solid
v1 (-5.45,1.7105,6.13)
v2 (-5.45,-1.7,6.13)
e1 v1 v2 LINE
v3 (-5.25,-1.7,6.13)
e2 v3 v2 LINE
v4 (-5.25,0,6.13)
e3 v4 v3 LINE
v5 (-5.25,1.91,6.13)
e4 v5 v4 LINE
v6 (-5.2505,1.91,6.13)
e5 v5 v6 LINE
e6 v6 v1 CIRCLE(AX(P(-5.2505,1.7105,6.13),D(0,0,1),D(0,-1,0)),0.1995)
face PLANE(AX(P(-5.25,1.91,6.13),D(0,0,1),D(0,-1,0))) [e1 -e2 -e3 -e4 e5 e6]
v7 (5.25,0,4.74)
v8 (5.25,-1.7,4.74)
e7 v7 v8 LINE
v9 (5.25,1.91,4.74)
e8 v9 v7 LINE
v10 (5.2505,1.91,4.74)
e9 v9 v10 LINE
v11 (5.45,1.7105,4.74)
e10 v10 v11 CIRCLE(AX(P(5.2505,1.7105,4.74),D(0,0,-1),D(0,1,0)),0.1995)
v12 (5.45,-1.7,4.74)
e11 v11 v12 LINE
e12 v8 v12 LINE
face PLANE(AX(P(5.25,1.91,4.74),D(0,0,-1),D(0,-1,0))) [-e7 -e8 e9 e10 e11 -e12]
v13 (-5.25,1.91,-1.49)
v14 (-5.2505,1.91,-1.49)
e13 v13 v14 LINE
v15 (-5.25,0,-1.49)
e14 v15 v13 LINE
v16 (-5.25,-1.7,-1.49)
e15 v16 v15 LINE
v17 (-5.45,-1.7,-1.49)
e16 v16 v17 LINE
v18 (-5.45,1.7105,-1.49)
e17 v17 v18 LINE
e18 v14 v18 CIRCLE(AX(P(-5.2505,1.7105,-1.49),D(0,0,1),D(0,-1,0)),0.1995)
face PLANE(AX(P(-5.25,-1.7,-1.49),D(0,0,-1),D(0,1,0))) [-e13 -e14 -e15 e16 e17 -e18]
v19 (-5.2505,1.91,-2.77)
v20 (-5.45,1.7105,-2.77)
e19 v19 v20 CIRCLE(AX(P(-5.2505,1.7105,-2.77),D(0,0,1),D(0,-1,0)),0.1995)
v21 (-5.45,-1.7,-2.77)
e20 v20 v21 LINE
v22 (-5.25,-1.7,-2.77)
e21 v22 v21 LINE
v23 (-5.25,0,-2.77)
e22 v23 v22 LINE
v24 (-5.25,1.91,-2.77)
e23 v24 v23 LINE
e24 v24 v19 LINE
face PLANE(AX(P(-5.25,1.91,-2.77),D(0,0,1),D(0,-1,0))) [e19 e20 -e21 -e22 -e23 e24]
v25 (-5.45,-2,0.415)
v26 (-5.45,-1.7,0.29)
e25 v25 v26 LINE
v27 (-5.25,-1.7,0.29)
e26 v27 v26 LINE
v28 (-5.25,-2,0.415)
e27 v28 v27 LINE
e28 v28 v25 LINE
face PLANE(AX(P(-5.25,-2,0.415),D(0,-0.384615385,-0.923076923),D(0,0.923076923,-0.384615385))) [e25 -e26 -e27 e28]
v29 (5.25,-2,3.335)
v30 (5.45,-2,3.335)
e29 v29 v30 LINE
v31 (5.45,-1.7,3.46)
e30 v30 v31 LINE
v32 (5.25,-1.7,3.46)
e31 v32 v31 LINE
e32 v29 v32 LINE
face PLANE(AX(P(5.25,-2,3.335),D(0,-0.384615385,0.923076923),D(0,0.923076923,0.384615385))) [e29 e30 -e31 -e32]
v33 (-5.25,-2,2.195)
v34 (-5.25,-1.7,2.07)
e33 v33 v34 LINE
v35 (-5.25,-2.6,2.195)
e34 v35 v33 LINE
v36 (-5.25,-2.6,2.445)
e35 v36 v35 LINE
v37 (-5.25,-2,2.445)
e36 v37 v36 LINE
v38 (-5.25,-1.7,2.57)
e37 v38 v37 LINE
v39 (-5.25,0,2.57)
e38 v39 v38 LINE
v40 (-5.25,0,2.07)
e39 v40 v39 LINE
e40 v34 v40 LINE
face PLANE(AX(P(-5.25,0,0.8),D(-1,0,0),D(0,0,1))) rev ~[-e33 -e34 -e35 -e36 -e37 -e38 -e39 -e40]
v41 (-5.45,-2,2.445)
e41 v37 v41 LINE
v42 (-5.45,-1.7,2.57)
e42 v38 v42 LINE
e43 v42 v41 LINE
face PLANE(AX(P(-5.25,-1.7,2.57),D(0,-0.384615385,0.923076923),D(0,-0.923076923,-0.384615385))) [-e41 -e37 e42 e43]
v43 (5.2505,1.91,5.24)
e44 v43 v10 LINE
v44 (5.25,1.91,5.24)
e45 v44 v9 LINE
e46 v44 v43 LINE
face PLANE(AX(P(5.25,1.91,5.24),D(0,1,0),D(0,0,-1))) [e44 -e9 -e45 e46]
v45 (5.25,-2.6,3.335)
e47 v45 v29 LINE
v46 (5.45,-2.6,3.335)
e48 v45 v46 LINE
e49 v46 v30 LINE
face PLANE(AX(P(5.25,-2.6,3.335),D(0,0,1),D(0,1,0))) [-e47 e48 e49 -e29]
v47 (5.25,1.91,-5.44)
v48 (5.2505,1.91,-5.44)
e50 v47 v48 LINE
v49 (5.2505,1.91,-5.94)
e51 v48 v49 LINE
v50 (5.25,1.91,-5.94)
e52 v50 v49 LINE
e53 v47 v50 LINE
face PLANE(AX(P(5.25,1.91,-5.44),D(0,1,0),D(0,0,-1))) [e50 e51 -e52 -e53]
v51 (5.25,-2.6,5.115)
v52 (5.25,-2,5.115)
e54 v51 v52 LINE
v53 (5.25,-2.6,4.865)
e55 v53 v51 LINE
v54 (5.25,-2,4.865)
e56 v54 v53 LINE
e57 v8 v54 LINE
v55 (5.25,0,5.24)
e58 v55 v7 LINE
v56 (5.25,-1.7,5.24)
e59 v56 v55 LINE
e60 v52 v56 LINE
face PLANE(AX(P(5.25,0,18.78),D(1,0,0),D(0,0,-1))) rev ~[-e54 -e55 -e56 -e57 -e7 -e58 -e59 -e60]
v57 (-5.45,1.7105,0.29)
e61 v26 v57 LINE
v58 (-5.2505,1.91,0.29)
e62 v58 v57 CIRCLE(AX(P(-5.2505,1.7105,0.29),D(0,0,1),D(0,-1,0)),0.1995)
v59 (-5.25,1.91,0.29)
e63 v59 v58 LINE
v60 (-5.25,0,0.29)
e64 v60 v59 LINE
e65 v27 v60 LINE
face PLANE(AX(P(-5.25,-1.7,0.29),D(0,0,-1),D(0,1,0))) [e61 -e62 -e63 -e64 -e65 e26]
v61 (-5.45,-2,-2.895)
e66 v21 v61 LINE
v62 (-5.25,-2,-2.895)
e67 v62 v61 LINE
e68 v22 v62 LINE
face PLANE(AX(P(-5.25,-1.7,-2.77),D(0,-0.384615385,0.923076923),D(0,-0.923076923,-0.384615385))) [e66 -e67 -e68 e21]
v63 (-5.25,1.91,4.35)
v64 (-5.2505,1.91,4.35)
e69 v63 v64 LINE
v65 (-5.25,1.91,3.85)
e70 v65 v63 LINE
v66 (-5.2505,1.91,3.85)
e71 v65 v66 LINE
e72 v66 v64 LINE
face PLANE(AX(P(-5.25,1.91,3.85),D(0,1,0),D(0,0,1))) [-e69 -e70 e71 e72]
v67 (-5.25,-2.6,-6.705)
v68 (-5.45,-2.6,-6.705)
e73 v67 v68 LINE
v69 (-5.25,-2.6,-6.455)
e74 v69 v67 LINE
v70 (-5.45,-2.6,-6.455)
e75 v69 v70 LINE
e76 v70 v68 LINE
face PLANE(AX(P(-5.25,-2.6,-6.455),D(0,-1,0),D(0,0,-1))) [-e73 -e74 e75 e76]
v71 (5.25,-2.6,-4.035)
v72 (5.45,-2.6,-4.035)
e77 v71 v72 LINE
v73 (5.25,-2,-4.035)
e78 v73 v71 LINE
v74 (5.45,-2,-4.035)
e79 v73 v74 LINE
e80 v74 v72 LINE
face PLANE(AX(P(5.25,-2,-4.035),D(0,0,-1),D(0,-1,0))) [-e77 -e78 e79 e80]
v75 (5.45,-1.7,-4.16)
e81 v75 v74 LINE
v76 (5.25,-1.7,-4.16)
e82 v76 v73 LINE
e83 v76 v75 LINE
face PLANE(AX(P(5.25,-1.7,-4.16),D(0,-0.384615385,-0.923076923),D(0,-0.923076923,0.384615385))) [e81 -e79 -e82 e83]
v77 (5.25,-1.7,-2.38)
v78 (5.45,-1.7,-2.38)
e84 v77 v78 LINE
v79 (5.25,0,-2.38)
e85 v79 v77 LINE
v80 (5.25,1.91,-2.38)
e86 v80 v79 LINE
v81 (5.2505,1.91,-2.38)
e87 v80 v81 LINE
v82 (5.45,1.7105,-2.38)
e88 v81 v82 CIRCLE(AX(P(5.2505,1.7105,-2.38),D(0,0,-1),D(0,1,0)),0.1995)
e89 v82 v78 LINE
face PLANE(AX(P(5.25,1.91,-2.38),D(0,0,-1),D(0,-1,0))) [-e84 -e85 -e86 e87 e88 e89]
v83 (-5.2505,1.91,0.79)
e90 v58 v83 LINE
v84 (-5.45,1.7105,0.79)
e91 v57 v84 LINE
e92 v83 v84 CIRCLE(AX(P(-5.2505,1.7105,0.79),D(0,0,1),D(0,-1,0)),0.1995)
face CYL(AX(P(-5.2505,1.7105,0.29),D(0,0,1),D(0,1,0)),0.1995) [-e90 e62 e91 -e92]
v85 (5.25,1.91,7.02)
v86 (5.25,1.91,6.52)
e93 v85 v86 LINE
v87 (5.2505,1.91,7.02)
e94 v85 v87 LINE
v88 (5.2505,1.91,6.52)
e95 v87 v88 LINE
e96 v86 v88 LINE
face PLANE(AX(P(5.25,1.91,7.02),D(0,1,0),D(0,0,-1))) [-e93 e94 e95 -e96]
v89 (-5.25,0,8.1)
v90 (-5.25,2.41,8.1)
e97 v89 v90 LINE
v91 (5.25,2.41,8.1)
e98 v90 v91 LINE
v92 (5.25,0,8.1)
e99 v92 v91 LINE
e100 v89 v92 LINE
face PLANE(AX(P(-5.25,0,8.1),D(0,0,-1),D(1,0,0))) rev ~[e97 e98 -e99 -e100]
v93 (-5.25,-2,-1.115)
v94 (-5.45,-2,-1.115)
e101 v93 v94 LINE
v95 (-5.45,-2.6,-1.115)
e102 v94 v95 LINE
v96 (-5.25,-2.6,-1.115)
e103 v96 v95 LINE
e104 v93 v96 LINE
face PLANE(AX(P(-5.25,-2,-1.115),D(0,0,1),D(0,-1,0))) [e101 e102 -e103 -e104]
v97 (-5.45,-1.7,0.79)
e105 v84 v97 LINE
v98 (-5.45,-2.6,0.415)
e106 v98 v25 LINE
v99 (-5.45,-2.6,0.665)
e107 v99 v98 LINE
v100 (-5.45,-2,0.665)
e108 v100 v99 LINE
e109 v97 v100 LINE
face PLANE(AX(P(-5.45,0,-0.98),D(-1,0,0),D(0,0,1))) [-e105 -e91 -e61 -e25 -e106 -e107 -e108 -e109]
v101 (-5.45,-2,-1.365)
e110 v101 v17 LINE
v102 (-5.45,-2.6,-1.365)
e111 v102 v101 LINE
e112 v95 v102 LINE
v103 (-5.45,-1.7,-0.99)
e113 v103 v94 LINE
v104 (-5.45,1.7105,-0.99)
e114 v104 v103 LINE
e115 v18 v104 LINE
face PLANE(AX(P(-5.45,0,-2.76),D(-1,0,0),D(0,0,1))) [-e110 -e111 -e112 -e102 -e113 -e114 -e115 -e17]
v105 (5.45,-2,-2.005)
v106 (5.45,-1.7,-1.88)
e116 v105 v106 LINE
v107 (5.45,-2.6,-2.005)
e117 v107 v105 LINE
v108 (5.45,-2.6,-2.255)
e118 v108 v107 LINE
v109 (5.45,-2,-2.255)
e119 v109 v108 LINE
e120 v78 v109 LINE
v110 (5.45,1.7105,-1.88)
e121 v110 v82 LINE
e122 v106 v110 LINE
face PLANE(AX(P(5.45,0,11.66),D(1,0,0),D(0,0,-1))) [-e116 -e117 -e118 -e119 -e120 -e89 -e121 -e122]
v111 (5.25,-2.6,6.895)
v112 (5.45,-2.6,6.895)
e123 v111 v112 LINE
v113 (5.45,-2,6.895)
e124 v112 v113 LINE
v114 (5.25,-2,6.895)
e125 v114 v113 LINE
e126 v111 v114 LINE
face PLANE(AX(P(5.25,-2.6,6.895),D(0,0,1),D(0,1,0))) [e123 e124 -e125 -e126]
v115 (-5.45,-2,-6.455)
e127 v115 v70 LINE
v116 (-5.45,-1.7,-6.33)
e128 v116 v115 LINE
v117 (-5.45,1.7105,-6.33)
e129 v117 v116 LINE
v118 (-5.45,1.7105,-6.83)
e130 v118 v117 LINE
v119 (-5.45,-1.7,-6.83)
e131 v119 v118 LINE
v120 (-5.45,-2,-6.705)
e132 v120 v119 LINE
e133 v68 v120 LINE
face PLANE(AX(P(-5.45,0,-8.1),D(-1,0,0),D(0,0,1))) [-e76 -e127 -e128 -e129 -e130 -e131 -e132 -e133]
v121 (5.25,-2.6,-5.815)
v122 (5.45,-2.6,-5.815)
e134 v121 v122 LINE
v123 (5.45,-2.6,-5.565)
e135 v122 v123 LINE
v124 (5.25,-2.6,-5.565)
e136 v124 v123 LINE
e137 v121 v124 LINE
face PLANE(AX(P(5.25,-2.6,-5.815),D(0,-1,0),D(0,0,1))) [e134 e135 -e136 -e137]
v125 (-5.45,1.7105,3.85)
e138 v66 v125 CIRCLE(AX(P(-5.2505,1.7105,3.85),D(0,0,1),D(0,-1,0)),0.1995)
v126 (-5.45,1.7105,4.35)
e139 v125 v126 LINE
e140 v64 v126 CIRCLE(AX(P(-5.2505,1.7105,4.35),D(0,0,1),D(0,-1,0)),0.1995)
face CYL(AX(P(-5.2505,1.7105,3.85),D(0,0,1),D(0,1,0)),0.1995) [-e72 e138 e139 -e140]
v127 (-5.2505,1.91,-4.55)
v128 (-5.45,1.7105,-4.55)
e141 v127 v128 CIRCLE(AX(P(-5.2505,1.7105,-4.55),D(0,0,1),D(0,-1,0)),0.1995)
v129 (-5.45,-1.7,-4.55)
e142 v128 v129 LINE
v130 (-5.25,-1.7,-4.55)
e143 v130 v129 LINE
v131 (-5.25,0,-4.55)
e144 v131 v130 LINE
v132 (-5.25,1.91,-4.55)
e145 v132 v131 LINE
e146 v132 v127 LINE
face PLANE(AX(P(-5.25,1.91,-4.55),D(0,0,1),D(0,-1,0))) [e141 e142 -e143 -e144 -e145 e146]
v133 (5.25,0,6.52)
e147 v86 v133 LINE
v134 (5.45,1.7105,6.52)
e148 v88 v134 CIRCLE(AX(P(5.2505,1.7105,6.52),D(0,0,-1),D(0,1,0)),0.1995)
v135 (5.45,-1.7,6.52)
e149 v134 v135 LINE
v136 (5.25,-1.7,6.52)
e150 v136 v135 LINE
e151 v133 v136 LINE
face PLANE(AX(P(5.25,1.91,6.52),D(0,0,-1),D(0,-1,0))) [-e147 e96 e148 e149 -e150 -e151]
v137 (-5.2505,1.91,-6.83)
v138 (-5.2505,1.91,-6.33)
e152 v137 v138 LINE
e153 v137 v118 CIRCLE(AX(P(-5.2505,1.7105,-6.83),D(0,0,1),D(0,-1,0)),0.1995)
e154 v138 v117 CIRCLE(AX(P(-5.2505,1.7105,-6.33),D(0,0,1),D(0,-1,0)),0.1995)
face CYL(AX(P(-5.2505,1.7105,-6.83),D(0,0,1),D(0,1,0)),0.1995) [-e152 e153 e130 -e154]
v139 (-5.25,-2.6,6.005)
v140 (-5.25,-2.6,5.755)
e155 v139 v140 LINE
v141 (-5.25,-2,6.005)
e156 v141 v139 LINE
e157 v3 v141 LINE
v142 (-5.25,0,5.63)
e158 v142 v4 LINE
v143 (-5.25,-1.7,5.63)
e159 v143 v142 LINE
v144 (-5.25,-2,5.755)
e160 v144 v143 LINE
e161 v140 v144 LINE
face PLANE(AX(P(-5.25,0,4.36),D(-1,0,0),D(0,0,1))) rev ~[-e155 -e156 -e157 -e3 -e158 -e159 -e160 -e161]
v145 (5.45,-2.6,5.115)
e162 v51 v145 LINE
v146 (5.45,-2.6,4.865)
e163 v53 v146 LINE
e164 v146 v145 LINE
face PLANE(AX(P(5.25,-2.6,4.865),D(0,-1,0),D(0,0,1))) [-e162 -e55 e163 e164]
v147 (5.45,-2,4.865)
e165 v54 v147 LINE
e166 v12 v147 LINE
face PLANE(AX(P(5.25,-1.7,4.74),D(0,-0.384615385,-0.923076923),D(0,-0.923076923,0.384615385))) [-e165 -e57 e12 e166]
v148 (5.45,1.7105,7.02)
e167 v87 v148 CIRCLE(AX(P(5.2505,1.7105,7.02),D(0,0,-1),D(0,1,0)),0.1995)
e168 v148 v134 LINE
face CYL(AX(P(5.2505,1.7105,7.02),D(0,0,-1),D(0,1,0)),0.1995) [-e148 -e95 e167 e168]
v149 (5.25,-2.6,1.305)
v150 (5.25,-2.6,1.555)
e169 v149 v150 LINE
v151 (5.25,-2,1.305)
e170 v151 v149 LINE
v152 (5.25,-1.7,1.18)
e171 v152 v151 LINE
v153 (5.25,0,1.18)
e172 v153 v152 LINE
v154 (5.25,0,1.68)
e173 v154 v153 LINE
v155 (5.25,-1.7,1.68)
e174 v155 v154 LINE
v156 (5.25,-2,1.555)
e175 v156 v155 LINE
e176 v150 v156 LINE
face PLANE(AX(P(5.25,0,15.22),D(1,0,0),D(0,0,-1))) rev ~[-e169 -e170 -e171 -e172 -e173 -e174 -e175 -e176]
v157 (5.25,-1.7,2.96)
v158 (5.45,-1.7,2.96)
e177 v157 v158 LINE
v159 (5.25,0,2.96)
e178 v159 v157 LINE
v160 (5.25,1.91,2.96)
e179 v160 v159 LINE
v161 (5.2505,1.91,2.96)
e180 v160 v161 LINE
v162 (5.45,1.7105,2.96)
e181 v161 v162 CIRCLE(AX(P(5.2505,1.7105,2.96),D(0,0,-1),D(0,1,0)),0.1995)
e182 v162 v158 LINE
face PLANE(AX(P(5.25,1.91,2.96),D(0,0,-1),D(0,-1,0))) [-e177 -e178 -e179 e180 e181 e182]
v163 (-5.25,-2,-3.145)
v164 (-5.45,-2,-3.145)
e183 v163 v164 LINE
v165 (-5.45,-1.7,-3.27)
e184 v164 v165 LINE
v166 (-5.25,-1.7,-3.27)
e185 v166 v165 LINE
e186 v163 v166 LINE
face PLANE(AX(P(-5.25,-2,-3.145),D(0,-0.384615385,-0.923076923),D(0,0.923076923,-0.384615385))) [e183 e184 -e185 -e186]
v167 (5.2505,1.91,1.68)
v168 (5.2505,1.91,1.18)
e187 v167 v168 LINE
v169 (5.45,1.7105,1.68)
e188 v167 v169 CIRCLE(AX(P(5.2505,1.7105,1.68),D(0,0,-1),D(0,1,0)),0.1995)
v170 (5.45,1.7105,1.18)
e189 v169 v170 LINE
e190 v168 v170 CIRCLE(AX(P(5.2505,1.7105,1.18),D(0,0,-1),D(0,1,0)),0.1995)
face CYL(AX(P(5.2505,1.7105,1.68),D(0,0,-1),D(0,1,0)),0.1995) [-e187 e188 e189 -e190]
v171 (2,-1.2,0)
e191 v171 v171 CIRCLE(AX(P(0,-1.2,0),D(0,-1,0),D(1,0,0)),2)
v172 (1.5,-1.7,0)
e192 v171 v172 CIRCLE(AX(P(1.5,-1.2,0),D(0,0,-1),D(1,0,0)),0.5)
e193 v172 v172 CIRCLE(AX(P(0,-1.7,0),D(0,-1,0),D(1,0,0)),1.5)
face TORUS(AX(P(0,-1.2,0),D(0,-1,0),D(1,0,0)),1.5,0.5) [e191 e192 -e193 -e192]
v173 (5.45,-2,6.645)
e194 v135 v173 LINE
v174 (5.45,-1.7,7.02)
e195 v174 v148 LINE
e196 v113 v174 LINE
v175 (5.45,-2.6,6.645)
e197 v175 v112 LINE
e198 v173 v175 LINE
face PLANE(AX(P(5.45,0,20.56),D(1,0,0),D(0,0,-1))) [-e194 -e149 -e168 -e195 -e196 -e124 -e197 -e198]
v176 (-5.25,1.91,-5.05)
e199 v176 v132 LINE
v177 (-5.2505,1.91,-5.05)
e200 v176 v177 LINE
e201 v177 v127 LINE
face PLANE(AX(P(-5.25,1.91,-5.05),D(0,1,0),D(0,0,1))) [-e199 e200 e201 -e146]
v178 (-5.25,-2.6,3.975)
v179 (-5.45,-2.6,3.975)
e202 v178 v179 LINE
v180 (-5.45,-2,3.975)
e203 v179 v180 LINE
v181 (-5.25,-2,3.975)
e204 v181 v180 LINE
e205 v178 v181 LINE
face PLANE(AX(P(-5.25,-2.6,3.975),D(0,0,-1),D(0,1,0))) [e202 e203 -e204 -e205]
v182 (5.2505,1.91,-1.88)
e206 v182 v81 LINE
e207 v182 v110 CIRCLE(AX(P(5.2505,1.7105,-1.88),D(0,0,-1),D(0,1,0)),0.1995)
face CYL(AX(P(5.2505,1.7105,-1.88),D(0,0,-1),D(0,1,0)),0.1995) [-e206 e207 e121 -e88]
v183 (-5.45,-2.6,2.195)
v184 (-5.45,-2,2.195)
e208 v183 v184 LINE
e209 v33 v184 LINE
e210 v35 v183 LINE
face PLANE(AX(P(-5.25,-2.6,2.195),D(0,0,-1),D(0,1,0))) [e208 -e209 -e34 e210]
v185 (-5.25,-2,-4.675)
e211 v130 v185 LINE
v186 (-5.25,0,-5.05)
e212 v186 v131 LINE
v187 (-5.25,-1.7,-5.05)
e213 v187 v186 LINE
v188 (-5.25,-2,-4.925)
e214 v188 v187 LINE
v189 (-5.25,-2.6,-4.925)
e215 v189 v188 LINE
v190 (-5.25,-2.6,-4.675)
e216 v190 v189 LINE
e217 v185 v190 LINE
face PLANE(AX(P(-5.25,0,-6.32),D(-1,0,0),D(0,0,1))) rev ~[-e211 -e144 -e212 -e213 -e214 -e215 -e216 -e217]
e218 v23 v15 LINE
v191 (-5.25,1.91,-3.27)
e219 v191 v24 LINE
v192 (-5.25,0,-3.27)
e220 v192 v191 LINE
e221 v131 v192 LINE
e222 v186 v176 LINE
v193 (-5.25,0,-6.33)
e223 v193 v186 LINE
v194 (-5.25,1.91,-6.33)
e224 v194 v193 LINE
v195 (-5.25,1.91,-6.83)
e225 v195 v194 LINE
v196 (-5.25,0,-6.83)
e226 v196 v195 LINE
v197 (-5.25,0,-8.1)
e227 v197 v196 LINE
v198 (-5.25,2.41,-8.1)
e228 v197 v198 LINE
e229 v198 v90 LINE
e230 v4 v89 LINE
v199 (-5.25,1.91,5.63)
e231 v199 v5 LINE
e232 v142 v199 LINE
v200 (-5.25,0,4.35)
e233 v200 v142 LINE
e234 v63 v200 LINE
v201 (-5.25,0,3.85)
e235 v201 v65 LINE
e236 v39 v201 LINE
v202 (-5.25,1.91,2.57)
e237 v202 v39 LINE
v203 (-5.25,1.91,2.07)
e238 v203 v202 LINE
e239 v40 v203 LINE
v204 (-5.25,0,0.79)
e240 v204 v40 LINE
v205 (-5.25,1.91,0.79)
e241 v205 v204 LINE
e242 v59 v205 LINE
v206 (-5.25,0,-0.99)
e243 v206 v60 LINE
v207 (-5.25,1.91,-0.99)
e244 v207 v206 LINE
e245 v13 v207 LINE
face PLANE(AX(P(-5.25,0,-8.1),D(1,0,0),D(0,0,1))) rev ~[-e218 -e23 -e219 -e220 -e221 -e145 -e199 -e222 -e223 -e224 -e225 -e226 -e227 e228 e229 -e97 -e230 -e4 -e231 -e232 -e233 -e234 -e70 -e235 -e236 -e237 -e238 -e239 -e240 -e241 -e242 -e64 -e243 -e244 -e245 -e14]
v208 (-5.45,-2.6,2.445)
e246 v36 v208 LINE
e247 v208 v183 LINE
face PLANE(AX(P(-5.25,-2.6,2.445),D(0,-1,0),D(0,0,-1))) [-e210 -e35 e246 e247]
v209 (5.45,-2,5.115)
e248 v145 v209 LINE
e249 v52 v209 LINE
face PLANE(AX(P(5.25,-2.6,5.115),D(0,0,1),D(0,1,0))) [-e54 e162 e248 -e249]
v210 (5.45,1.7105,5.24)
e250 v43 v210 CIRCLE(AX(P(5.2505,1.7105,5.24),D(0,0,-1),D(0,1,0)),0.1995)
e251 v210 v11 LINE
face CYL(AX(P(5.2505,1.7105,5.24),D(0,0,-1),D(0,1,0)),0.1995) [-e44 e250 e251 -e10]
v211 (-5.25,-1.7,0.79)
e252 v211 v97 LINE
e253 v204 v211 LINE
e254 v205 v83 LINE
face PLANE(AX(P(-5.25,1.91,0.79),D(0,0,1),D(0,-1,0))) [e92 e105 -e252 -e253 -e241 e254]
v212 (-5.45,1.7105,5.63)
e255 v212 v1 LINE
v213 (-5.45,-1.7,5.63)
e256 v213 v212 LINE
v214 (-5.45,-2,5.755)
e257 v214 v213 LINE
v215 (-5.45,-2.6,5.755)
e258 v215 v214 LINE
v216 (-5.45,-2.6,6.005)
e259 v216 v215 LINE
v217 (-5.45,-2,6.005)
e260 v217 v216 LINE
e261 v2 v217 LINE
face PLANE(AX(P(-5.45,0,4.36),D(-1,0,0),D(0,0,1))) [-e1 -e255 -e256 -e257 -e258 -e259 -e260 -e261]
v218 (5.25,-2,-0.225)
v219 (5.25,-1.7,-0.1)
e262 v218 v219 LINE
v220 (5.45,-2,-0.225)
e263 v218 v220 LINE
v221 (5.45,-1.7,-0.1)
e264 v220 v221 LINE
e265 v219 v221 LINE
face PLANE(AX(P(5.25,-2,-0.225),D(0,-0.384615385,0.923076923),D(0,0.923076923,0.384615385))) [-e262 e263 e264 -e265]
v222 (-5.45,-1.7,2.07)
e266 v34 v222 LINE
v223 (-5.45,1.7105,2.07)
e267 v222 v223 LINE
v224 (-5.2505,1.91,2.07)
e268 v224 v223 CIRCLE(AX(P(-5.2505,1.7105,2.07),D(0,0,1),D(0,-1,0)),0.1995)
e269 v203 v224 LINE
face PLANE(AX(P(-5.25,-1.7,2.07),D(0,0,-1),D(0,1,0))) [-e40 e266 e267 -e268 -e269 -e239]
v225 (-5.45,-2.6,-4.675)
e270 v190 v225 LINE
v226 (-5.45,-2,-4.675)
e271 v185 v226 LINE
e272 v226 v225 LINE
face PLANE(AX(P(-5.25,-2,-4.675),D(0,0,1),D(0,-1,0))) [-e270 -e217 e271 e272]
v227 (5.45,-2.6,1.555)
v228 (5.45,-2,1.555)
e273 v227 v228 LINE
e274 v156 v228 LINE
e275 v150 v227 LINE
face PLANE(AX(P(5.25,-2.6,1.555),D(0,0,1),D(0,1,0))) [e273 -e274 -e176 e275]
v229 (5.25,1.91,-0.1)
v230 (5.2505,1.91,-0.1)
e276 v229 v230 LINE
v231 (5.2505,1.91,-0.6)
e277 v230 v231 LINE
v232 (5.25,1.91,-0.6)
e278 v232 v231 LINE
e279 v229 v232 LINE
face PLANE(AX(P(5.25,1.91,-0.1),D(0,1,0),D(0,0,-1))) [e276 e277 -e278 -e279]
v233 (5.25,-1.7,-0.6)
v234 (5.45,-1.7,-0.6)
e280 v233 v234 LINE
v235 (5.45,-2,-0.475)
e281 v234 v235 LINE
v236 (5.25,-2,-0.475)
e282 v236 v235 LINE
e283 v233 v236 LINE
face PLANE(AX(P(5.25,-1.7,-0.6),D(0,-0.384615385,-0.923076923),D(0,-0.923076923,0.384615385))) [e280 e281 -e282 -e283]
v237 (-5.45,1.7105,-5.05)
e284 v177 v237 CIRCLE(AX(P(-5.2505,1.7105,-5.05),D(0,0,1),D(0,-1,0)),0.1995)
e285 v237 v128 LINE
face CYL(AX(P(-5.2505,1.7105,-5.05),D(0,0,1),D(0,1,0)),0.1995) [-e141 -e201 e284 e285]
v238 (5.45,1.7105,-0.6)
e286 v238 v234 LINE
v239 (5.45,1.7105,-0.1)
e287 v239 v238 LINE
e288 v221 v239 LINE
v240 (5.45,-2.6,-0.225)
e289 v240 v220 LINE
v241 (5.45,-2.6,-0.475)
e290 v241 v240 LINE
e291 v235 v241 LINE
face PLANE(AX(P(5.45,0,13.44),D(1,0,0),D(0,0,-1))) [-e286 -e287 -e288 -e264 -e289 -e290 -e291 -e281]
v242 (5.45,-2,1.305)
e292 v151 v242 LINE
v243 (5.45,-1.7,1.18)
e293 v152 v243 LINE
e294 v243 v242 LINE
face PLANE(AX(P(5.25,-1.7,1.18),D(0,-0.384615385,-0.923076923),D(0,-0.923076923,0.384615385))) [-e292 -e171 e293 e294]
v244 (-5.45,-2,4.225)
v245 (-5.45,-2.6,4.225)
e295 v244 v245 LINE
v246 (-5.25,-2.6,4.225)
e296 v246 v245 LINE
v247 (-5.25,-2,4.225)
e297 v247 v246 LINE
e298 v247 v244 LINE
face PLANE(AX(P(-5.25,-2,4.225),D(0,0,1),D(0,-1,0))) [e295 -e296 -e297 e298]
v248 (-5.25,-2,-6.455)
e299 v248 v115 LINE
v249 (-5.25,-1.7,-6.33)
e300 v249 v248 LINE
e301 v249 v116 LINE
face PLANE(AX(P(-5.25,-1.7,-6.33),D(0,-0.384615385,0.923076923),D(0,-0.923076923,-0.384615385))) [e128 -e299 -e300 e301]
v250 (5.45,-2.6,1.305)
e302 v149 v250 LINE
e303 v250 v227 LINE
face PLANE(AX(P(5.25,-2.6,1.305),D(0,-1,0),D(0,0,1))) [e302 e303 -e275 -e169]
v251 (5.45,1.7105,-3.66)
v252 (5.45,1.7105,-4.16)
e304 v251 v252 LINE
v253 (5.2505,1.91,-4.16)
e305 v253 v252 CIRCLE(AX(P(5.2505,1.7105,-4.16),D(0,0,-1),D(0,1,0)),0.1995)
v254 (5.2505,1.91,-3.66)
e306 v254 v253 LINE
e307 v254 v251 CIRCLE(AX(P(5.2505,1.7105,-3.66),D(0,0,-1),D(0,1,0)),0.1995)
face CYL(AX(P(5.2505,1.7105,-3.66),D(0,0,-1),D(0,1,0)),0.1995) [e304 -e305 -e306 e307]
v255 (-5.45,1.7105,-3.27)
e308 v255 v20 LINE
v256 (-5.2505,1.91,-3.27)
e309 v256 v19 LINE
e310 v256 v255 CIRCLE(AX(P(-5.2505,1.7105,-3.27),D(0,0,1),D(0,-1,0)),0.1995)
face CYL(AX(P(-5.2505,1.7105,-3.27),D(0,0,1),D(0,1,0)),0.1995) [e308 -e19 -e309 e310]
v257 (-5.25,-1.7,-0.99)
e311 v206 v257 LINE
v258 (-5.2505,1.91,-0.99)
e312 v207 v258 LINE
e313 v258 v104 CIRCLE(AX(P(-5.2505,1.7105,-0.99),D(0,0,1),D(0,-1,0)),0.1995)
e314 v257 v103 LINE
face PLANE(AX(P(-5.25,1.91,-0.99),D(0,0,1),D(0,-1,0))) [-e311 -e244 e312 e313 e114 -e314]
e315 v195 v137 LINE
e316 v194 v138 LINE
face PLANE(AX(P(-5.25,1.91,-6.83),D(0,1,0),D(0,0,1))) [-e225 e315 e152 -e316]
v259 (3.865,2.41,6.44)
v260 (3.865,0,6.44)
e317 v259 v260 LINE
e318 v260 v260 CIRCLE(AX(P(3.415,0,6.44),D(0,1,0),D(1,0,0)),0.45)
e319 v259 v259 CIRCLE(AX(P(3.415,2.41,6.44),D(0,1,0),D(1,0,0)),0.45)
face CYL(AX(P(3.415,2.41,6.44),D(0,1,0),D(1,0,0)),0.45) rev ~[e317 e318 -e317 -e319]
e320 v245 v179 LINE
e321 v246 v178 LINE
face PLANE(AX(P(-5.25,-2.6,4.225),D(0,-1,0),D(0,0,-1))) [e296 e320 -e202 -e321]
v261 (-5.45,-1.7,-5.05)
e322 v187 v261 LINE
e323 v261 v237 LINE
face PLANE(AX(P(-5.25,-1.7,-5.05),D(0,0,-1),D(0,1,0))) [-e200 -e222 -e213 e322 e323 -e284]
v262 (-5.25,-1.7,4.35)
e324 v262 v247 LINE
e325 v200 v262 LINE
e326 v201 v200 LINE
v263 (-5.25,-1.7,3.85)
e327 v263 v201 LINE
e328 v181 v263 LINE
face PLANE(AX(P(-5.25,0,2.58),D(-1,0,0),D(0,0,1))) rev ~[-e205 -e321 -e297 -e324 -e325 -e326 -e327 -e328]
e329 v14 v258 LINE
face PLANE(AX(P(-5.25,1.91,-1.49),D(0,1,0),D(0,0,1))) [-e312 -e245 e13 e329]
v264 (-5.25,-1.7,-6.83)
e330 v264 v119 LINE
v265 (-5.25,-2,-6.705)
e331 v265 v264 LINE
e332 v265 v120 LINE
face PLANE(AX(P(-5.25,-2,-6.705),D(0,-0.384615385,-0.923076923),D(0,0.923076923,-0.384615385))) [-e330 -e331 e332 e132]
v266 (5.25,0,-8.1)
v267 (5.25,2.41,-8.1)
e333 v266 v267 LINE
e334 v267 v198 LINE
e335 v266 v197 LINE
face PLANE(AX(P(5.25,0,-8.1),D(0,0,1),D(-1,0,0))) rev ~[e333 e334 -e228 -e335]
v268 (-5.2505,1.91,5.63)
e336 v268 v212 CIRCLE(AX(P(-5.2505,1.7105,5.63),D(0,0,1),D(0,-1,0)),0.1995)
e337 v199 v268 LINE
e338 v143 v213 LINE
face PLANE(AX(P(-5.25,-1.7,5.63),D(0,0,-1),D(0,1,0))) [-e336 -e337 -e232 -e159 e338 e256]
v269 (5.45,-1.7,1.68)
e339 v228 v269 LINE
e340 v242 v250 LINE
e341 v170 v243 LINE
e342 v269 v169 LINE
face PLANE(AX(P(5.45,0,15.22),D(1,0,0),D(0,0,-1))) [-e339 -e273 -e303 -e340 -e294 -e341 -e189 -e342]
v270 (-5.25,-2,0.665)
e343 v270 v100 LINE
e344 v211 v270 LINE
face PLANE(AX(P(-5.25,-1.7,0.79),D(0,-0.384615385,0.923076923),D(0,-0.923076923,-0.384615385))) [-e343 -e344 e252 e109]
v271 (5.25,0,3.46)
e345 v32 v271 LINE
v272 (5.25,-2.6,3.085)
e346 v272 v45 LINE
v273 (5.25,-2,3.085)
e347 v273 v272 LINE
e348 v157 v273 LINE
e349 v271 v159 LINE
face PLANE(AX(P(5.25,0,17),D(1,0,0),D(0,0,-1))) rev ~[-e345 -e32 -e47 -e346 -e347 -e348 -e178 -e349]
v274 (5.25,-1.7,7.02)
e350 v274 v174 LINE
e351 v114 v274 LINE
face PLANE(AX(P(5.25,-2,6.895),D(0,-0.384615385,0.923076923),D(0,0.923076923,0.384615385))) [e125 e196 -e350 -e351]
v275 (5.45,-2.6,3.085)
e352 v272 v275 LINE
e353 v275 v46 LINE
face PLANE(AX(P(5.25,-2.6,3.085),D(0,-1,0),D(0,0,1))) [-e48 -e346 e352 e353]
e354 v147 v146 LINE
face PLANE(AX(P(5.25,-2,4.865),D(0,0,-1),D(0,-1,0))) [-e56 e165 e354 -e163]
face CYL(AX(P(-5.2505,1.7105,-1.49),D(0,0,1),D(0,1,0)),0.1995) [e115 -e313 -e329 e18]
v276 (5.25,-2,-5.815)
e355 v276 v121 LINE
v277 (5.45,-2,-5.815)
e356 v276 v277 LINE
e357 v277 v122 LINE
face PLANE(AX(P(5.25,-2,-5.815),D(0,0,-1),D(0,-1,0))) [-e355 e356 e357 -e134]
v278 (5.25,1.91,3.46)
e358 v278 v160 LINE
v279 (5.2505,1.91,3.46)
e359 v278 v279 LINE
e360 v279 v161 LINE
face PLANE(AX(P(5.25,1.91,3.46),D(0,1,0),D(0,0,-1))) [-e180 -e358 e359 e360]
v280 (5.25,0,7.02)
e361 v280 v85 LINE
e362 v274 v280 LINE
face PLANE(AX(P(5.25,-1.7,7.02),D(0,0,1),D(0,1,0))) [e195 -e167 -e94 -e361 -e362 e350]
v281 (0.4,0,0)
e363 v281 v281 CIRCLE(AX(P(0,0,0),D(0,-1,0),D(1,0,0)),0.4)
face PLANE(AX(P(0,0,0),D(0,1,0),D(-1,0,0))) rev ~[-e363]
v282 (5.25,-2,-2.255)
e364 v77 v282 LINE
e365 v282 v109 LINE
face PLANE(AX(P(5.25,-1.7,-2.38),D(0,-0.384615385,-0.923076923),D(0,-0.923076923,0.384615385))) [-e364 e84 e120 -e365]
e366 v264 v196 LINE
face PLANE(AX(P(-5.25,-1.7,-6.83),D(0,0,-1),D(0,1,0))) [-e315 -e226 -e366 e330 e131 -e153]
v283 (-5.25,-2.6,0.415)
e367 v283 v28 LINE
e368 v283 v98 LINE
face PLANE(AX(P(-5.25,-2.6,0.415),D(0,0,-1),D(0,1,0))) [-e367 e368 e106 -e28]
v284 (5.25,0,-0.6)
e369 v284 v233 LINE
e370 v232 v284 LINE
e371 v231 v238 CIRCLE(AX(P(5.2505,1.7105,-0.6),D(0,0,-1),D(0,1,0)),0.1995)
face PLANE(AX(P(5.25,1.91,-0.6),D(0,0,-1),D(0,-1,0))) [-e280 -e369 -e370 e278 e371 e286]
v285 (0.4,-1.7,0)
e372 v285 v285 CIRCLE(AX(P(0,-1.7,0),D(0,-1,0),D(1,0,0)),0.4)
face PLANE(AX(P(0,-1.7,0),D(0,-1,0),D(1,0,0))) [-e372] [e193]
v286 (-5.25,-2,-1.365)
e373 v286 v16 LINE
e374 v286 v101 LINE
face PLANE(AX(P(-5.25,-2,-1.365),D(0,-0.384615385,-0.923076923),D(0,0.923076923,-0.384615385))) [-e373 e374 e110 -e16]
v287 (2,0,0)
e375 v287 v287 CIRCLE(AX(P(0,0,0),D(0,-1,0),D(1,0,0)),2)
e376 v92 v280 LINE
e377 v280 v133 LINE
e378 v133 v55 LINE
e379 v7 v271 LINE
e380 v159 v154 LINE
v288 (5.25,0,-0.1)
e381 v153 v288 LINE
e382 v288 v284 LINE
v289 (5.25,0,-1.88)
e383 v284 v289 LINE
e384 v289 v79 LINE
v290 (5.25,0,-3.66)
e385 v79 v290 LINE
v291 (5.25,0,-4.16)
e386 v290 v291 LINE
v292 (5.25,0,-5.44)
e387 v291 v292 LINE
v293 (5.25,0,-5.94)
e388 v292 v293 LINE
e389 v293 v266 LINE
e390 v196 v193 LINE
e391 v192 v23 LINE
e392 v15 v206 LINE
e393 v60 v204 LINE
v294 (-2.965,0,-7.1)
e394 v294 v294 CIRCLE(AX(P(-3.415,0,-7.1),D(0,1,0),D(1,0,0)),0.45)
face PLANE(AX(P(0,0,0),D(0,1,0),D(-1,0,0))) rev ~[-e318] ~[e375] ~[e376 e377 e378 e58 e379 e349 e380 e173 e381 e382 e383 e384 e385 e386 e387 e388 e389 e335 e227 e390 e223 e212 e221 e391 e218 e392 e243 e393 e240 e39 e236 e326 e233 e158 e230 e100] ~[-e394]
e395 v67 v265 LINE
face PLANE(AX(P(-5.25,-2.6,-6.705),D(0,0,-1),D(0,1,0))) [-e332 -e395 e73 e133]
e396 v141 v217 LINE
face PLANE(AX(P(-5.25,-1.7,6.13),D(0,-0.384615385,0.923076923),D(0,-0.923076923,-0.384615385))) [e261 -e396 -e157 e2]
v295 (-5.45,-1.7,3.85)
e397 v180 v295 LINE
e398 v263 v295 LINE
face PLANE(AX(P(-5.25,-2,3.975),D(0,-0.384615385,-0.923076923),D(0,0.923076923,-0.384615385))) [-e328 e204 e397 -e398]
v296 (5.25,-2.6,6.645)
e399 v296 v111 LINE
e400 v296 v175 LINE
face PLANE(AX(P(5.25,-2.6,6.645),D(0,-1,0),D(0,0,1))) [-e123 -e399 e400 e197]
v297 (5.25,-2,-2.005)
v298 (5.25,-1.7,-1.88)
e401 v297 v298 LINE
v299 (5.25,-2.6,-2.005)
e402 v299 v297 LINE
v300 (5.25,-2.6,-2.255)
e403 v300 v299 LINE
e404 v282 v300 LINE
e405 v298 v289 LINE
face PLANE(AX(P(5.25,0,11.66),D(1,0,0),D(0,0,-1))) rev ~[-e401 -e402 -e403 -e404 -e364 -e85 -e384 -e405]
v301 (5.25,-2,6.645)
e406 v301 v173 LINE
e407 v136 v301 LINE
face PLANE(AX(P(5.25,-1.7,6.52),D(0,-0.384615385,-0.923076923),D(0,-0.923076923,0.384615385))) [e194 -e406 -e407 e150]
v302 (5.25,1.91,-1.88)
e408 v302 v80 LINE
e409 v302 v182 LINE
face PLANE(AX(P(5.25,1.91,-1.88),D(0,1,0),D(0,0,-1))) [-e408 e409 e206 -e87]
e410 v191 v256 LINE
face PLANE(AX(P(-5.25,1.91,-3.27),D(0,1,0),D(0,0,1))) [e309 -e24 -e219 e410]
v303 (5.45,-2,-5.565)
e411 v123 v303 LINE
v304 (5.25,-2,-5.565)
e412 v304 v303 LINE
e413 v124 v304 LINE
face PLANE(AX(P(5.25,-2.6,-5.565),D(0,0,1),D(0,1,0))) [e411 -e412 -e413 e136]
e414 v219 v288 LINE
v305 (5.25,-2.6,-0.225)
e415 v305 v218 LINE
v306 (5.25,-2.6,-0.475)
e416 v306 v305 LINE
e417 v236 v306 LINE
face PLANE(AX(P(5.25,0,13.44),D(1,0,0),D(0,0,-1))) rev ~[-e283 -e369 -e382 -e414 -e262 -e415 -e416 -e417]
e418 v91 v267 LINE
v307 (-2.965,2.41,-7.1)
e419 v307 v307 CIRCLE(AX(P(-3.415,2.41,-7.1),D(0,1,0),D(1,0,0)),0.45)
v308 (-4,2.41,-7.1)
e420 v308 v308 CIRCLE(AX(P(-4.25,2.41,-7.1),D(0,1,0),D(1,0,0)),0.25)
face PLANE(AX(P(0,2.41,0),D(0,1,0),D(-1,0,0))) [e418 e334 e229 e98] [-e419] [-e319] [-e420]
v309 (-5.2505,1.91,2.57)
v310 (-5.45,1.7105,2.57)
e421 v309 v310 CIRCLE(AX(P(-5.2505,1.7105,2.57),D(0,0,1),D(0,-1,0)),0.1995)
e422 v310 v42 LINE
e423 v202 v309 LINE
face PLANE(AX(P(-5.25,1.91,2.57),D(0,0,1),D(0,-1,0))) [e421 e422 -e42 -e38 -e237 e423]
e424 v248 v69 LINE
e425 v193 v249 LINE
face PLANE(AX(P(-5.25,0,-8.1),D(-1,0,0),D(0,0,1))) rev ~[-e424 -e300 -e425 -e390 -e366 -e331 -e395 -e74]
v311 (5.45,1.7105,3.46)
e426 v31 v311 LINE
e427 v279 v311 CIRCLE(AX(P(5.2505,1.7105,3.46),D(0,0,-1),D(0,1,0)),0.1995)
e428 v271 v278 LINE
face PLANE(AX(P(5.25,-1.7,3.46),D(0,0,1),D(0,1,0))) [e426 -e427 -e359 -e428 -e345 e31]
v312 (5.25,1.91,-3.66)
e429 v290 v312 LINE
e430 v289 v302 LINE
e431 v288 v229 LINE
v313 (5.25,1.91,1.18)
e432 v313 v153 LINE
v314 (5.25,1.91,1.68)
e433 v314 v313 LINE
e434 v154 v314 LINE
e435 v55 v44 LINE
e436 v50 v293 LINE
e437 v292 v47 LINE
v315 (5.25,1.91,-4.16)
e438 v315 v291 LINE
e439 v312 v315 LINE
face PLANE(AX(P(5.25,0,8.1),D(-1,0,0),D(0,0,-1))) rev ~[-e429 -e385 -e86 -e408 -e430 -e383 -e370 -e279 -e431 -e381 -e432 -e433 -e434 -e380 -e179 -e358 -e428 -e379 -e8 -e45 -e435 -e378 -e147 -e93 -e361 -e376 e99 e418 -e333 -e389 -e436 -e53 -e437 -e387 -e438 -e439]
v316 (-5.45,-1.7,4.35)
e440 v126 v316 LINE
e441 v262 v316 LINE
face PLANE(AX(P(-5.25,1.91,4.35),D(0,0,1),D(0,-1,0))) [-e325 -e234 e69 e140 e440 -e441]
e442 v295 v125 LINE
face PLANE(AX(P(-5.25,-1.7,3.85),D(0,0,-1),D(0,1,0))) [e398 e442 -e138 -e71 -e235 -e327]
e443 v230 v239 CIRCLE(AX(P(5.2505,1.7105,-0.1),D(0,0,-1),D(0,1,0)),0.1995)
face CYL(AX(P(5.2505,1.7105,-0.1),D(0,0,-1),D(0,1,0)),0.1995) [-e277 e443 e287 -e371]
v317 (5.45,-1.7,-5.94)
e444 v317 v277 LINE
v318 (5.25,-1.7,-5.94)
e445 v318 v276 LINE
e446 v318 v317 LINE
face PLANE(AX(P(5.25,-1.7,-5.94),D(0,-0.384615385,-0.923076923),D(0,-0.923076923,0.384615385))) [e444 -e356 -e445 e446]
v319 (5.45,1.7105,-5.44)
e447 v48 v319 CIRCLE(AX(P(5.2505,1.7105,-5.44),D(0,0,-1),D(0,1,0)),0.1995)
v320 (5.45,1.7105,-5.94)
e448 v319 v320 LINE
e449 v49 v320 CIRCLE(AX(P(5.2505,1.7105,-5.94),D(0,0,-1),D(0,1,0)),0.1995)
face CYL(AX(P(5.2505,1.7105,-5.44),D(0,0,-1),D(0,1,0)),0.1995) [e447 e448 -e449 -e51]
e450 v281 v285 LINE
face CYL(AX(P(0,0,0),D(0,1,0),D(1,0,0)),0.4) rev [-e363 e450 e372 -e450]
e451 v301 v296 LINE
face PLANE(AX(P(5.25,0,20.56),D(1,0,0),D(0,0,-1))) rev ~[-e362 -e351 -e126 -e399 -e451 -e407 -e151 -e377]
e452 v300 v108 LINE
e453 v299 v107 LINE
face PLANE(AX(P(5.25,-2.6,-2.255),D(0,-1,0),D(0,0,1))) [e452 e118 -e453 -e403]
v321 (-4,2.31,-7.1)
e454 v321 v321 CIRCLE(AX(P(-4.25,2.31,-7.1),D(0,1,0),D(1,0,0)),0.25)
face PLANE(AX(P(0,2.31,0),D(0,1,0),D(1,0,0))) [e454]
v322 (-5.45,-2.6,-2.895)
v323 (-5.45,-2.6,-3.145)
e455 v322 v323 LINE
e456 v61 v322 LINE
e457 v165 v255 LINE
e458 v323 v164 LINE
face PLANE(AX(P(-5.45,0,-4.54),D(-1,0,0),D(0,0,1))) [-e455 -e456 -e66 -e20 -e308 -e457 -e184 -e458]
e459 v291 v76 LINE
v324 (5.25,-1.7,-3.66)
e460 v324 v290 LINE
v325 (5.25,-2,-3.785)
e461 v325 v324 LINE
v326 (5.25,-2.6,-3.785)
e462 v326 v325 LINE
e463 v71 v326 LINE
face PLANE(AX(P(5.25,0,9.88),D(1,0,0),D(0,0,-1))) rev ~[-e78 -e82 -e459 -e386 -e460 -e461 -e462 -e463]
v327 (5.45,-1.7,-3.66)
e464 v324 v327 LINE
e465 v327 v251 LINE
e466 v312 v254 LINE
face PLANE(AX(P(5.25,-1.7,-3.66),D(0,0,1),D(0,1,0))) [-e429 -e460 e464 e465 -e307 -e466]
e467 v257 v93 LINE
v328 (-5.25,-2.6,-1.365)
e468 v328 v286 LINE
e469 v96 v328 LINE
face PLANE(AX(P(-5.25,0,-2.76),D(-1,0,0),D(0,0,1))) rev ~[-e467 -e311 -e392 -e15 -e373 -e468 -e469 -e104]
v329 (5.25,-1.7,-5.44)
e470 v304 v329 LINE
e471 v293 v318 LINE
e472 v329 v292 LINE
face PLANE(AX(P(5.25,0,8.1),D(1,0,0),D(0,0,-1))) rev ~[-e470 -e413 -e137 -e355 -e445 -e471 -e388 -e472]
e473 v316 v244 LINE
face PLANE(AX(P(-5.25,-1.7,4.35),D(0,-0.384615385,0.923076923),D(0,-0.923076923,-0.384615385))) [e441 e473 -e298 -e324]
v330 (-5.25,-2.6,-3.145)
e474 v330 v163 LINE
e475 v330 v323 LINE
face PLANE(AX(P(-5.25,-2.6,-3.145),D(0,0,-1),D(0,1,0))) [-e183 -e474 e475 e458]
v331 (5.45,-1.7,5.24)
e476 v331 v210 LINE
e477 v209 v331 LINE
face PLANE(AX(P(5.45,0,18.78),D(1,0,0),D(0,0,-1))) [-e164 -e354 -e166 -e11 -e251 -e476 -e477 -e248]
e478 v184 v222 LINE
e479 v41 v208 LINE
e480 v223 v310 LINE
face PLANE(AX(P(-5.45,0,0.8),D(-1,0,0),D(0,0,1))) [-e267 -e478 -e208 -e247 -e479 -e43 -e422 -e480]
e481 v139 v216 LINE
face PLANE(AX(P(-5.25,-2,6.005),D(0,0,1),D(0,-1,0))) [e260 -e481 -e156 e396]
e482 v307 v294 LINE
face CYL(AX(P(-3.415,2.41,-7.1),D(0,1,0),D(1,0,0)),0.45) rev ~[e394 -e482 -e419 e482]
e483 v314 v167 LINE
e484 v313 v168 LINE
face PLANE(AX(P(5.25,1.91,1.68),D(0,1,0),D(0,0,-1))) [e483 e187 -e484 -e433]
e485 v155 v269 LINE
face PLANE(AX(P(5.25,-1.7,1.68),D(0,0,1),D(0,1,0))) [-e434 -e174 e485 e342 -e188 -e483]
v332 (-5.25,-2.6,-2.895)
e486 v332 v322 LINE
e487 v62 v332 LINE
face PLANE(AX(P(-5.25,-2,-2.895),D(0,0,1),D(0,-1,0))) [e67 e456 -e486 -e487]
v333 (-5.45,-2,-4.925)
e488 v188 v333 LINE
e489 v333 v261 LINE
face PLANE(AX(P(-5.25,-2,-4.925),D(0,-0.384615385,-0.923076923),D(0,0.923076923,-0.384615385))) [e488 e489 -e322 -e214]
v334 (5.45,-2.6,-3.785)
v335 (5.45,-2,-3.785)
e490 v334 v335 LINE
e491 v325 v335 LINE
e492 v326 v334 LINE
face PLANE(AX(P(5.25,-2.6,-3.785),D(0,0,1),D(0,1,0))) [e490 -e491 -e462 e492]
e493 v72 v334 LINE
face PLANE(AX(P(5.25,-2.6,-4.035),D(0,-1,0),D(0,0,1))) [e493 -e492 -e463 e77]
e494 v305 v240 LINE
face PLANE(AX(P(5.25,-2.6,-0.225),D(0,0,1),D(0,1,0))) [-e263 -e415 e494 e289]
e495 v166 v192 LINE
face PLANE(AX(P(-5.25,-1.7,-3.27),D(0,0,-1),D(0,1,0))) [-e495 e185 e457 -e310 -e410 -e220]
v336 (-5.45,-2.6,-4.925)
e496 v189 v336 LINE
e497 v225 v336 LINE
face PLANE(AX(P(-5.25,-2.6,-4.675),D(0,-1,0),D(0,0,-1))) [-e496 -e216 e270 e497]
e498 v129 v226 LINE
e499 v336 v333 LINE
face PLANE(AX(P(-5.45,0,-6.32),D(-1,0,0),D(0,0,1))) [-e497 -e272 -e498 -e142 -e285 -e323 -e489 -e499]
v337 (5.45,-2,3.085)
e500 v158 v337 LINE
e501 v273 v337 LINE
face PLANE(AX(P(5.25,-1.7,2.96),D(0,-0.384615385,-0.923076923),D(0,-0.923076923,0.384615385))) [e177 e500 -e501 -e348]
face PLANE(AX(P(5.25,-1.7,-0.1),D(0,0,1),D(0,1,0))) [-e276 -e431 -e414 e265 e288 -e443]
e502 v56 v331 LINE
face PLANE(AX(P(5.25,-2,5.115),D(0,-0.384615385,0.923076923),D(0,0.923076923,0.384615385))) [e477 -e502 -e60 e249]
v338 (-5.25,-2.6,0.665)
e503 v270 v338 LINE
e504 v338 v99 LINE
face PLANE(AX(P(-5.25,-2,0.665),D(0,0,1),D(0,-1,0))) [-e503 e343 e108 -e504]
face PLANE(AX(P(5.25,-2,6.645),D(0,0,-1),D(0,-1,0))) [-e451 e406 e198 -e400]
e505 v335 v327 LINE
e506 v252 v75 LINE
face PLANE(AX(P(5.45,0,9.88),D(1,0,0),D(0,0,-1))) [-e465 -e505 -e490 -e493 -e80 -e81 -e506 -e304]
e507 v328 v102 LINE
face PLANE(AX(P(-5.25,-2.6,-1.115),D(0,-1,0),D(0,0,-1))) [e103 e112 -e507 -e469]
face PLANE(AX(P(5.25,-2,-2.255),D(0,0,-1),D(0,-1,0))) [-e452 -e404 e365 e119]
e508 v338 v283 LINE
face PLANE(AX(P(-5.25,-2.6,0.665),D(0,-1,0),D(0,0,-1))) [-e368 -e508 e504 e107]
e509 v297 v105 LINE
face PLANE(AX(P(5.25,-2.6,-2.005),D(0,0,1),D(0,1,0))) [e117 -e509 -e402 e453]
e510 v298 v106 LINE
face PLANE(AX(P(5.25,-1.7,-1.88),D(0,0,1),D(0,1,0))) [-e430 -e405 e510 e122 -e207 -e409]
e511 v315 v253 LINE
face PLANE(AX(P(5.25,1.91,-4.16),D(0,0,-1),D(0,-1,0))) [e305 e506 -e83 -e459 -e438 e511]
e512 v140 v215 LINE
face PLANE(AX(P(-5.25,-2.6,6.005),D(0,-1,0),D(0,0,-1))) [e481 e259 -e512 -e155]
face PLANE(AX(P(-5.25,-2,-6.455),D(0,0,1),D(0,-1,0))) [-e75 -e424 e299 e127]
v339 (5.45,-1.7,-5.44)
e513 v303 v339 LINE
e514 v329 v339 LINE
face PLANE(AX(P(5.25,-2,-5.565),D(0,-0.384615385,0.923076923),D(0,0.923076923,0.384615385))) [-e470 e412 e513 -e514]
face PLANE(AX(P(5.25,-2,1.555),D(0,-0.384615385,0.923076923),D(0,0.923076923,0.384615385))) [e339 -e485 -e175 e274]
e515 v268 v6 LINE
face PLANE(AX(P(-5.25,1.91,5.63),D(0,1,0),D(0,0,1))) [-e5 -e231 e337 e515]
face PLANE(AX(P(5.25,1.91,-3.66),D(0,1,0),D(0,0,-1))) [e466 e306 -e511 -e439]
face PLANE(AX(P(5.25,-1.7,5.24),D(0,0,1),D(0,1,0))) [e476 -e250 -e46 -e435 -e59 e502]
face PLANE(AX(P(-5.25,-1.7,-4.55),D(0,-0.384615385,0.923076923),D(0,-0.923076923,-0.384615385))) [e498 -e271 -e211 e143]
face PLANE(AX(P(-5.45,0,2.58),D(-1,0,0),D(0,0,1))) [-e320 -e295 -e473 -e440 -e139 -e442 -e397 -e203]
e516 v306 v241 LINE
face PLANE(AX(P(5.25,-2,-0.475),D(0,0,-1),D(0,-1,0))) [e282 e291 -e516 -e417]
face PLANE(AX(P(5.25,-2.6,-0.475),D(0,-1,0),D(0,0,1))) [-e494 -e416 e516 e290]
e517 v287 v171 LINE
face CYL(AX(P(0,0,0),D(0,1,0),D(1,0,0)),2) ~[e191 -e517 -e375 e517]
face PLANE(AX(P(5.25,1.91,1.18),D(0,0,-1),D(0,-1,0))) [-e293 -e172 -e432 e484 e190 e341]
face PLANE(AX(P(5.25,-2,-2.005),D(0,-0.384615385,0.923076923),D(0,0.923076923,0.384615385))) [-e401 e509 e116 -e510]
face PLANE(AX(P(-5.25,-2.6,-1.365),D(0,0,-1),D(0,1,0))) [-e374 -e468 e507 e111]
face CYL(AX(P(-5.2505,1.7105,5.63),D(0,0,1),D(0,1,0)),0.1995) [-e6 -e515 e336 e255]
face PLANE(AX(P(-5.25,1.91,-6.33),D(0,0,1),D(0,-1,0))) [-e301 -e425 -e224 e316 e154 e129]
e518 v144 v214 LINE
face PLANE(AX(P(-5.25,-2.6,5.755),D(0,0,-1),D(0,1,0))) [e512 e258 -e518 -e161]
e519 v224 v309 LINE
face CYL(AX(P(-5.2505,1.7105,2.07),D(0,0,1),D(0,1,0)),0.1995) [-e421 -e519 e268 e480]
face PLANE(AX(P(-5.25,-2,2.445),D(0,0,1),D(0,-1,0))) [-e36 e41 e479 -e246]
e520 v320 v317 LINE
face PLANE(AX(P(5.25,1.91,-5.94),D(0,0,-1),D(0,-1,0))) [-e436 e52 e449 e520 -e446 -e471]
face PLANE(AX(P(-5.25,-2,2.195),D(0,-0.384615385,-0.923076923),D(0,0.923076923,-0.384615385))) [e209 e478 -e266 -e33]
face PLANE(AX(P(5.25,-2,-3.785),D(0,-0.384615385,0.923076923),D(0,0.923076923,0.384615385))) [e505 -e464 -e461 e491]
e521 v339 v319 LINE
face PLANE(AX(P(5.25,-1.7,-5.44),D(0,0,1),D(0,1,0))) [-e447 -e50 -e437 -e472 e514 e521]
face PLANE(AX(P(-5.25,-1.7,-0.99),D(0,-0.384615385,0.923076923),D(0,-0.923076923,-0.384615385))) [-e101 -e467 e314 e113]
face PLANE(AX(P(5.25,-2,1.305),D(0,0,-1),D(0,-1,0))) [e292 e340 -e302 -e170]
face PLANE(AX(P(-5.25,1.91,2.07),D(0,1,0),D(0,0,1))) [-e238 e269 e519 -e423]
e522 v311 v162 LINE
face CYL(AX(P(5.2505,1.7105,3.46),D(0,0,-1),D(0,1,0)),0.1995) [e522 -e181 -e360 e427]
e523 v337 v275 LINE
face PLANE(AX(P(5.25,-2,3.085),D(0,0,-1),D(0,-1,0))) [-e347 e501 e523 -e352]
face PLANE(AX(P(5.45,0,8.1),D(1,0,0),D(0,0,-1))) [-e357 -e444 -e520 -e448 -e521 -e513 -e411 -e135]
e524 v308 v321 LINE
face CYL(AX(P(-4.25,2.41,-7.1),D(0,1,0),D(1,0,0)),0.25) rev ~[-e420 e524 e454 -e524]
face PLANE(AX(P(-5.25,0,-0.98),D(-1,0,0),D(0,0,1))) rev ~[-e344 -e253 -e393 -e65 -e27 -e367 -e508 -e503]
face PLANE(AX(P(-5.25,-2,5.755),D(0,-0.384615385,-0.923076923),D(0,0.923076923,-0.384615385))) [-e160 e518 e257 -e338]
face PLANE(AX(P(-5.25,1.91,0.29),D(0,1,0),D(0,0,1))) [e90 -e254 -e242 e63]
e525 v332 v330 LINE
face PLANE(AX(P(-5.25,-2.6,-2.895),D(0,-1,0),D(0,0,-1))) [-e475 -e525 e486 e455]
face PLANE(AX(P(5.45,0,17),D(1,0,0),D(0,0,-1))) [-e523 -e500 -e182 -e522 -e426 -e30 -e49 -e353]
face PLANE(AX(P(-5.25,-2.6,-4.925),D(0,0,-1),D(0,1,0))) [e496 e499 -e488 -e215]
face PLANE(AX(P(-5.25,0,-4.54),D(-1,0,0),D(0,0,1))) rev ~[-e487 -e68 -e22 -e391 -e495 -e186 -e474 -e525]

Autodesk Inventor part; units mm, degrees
ref_plane "YZ Plane" through (0, 0, 0) normal (1, 0, 0) x (0, 1, 0)
ref_plane "XZ Plane" through (0, 0, 0) normal (0, 1, 0) x (-1, 0, 0)
ref_plane "XY Plane" through (0, 0, 0) normal (0, 0, 1) x (1, 0, 0)
sketch "Sketch1" plane through (0, 0, 0) normal (0, 1, 0) x (-1, 0, 0)
  line L0 (5.25, 8.1) -> (-5.25, 8.1)
  line L1 (-5.25, 8.1) -> (-5.25, -8.1)
  line L2 (-5.25, -8.1) -> (5.25, -8.1)
  line L3 (5.25, -8.1) -> (5.25, 8.1)
  line L4 (7.35, 0) -> (-7.35, 0) construction
  line L5 (0, -11.34) -> (0, 11.34) construction
  point P0 (0, 0)
  dimension "d0" = 10.5
  dimension "d1" = 16.2
extrude "Extrusion1" add sketch "Sketch1" along normal blind 2.41
sketch "Sketch2" plane through (0, 2.41, 0) normal (0, 1, 0) x (1, 0, 0)
  circle A0 centre (-4.25, 7.1) radius 0.25
  line L0 (-5.25, 8.1) -> (-5.25, -8.1) projected
  line L1 (5.25, 8.1) -> (-5.25, 8.1) projected
  point P0 (0, 0)
  dimension "d4" = 0.5
  dimension "d5" = 1
  dimension "d6" = 1
extrude "Extrusion2" cut sketch "Sketch2" against normal blind 0.1
sketch "Sketch6" plane through (0, 2.41, 0) normal (0, 1, 0) x (1, 0, 0)
  circle A0 centre (-3.415, 7.1) radius 0.45
  circle A1 centre (3.415, -6.44) radius 0.45
  line L0 (5.25, 8.1) -> (-5.25, 8.1) projected
  point P0 (0, 0)
  dimension "d47" = 0.9
  dimension "d48" = 0.9
  dimension "d49" = 6.83
  dimension "d50" = 3.415
  dimension "d51" = 0.55
  dimension "d52" = 13.54
extrude "Extrusion6" cut sketch "Sketch6" against normal through all
sketch "Sketch5" plane through (0, 0, 0) normal (0, -1, 0) x (1, 0, 0)
  circle A0 centre (0, 0) radius 2
  circle A1 centre (0, 0) radius 0.4
  dimension "d40" = 4
  dimension "d41" = 0.8
extrude "Extrusion5" add sketch "Sketch5" along normal blind 1.7
fillet "Fillet1" radius 0.5 1 edges at (-2, -1.7, 0)
sketch "Sketch3" plane through (-5.25, 0, -8.1) normal (-1, 0, 0) x (0, 0, 1)
  line L0 (1.27, 1.91) -> (1.77, 1.91)
  line L1 (1.77, 1.91) -> (1.77, -1.7)
  line L2 (16.2, 0) -> (0, 0) construction
  line L3 (1.77, -1.7) -> (1.645, -2)
  line L4 (1.645, -2) -> (1.645, -2.6)
  line L5 (1.645, -2.6) -> (1.395, -2.6)
  line L6 (1.395, -2.6) -> (1.395, -2)
  line L7 (1.395, -2) -> (1.27, -1.7)
  line L8 (1.27, -1.7) -> (1.27, 1.91)
  line L9 (0, 2.41) -> (16.2, 2.41) construction
  line L10 (0, 0) -> (0, 2.41) construction
  point P0 (8.1, 0)
  point P1 (1.52, 1.91)
  dimension "d9" = 0.5
  dimension "d10" = 0.25
  dimension "d11" = 1.91
  dimension "d12" = 4.11
  dimension "d13" = 4.51
  dimension "d14" = 0.9
  dimension "d15" = 0.3
  dimension "d16" = 1.52
  dimension "d17" = 0.125
extrude "Extrusion3" add sketch "Sketch3" along normal blind 0.2
sketch "Sketch4" plane through (5.25, 0, 8.1) normal (1, 0, 0) x (0, 0, -1)
  line L0 (13.54, 1.91) -> (14.04, 1.91)
  line L1 (14.04, 1.91) -> (14.04, -1.7)
  line L2 (14.04, -1.7) -> (13.915, -2)
  line L3 (13.915, -2) -> (13.915, -2.6)
  line L4 (13.915, -2.6) -> (13.665, -2.6)
  line L5 (13.665, -2.6) -> (13.665, -2)
  line L6 (13.665, -2) -> (13.54, -1.7)
  line L7 (13.54, -1.7) -> (13.54, 1.91)
  line L8 (0, 2.41) -> (16.2, 2.41) construction
  line L9 (0, 0) -> (16.2, 0) construction
  line L10 (14.93, 1.91) -> (14.43, 1.91) projected
  point P0 (8.1, 0)
  point P1 (12.5997, 0.5868)
  point P2 (13.79, 1.91)
  point P3 (14.68, 1.91)
  dimension "d20" = 0.5
  dimension "d21" = 0.25
  dimension "d24" = 4.51
  dimension "d25" = 0.9
  dimension "d26" = 0.3
  dimension "d28" = 0.125
  dimension "d29" = 4.11
  dimension "d30" = 1.91
  dimension "d31" = 0.89
extrude "Extrusion4" add sketch "Sketch4" along normal blind 0.2
fillet "Fillet2" radius 0.2 1 edges at (-5.45, 1.91, -6.58)
fillet "Fillet3" radius 0.2 1 edges at (5.45, 1.91, -5.69)
pattern_linear "Rectangular Pattern1" count 8 spacing 1.78 along (0, 0, 1) of "Extrusion3", "Fillet2"
pattern_linear "Rectangular Pattern2" count 8 spacing 1.78 along (0, 0, 1) of "Extrusion4", "Fillet3"
equation "\"d50\" = 0.5 * d49"
equation "\"d15\" = 0.333333 * d14"
equation "\"d17\" = -0.5 * d10 + 0.5 * d9"
equation "\"d26\" = 0.333333 * d25"
equation "\"d28\" = -0.5 * d21 + 0.5 * d20"
properties part number "PMW3360_sensor"
